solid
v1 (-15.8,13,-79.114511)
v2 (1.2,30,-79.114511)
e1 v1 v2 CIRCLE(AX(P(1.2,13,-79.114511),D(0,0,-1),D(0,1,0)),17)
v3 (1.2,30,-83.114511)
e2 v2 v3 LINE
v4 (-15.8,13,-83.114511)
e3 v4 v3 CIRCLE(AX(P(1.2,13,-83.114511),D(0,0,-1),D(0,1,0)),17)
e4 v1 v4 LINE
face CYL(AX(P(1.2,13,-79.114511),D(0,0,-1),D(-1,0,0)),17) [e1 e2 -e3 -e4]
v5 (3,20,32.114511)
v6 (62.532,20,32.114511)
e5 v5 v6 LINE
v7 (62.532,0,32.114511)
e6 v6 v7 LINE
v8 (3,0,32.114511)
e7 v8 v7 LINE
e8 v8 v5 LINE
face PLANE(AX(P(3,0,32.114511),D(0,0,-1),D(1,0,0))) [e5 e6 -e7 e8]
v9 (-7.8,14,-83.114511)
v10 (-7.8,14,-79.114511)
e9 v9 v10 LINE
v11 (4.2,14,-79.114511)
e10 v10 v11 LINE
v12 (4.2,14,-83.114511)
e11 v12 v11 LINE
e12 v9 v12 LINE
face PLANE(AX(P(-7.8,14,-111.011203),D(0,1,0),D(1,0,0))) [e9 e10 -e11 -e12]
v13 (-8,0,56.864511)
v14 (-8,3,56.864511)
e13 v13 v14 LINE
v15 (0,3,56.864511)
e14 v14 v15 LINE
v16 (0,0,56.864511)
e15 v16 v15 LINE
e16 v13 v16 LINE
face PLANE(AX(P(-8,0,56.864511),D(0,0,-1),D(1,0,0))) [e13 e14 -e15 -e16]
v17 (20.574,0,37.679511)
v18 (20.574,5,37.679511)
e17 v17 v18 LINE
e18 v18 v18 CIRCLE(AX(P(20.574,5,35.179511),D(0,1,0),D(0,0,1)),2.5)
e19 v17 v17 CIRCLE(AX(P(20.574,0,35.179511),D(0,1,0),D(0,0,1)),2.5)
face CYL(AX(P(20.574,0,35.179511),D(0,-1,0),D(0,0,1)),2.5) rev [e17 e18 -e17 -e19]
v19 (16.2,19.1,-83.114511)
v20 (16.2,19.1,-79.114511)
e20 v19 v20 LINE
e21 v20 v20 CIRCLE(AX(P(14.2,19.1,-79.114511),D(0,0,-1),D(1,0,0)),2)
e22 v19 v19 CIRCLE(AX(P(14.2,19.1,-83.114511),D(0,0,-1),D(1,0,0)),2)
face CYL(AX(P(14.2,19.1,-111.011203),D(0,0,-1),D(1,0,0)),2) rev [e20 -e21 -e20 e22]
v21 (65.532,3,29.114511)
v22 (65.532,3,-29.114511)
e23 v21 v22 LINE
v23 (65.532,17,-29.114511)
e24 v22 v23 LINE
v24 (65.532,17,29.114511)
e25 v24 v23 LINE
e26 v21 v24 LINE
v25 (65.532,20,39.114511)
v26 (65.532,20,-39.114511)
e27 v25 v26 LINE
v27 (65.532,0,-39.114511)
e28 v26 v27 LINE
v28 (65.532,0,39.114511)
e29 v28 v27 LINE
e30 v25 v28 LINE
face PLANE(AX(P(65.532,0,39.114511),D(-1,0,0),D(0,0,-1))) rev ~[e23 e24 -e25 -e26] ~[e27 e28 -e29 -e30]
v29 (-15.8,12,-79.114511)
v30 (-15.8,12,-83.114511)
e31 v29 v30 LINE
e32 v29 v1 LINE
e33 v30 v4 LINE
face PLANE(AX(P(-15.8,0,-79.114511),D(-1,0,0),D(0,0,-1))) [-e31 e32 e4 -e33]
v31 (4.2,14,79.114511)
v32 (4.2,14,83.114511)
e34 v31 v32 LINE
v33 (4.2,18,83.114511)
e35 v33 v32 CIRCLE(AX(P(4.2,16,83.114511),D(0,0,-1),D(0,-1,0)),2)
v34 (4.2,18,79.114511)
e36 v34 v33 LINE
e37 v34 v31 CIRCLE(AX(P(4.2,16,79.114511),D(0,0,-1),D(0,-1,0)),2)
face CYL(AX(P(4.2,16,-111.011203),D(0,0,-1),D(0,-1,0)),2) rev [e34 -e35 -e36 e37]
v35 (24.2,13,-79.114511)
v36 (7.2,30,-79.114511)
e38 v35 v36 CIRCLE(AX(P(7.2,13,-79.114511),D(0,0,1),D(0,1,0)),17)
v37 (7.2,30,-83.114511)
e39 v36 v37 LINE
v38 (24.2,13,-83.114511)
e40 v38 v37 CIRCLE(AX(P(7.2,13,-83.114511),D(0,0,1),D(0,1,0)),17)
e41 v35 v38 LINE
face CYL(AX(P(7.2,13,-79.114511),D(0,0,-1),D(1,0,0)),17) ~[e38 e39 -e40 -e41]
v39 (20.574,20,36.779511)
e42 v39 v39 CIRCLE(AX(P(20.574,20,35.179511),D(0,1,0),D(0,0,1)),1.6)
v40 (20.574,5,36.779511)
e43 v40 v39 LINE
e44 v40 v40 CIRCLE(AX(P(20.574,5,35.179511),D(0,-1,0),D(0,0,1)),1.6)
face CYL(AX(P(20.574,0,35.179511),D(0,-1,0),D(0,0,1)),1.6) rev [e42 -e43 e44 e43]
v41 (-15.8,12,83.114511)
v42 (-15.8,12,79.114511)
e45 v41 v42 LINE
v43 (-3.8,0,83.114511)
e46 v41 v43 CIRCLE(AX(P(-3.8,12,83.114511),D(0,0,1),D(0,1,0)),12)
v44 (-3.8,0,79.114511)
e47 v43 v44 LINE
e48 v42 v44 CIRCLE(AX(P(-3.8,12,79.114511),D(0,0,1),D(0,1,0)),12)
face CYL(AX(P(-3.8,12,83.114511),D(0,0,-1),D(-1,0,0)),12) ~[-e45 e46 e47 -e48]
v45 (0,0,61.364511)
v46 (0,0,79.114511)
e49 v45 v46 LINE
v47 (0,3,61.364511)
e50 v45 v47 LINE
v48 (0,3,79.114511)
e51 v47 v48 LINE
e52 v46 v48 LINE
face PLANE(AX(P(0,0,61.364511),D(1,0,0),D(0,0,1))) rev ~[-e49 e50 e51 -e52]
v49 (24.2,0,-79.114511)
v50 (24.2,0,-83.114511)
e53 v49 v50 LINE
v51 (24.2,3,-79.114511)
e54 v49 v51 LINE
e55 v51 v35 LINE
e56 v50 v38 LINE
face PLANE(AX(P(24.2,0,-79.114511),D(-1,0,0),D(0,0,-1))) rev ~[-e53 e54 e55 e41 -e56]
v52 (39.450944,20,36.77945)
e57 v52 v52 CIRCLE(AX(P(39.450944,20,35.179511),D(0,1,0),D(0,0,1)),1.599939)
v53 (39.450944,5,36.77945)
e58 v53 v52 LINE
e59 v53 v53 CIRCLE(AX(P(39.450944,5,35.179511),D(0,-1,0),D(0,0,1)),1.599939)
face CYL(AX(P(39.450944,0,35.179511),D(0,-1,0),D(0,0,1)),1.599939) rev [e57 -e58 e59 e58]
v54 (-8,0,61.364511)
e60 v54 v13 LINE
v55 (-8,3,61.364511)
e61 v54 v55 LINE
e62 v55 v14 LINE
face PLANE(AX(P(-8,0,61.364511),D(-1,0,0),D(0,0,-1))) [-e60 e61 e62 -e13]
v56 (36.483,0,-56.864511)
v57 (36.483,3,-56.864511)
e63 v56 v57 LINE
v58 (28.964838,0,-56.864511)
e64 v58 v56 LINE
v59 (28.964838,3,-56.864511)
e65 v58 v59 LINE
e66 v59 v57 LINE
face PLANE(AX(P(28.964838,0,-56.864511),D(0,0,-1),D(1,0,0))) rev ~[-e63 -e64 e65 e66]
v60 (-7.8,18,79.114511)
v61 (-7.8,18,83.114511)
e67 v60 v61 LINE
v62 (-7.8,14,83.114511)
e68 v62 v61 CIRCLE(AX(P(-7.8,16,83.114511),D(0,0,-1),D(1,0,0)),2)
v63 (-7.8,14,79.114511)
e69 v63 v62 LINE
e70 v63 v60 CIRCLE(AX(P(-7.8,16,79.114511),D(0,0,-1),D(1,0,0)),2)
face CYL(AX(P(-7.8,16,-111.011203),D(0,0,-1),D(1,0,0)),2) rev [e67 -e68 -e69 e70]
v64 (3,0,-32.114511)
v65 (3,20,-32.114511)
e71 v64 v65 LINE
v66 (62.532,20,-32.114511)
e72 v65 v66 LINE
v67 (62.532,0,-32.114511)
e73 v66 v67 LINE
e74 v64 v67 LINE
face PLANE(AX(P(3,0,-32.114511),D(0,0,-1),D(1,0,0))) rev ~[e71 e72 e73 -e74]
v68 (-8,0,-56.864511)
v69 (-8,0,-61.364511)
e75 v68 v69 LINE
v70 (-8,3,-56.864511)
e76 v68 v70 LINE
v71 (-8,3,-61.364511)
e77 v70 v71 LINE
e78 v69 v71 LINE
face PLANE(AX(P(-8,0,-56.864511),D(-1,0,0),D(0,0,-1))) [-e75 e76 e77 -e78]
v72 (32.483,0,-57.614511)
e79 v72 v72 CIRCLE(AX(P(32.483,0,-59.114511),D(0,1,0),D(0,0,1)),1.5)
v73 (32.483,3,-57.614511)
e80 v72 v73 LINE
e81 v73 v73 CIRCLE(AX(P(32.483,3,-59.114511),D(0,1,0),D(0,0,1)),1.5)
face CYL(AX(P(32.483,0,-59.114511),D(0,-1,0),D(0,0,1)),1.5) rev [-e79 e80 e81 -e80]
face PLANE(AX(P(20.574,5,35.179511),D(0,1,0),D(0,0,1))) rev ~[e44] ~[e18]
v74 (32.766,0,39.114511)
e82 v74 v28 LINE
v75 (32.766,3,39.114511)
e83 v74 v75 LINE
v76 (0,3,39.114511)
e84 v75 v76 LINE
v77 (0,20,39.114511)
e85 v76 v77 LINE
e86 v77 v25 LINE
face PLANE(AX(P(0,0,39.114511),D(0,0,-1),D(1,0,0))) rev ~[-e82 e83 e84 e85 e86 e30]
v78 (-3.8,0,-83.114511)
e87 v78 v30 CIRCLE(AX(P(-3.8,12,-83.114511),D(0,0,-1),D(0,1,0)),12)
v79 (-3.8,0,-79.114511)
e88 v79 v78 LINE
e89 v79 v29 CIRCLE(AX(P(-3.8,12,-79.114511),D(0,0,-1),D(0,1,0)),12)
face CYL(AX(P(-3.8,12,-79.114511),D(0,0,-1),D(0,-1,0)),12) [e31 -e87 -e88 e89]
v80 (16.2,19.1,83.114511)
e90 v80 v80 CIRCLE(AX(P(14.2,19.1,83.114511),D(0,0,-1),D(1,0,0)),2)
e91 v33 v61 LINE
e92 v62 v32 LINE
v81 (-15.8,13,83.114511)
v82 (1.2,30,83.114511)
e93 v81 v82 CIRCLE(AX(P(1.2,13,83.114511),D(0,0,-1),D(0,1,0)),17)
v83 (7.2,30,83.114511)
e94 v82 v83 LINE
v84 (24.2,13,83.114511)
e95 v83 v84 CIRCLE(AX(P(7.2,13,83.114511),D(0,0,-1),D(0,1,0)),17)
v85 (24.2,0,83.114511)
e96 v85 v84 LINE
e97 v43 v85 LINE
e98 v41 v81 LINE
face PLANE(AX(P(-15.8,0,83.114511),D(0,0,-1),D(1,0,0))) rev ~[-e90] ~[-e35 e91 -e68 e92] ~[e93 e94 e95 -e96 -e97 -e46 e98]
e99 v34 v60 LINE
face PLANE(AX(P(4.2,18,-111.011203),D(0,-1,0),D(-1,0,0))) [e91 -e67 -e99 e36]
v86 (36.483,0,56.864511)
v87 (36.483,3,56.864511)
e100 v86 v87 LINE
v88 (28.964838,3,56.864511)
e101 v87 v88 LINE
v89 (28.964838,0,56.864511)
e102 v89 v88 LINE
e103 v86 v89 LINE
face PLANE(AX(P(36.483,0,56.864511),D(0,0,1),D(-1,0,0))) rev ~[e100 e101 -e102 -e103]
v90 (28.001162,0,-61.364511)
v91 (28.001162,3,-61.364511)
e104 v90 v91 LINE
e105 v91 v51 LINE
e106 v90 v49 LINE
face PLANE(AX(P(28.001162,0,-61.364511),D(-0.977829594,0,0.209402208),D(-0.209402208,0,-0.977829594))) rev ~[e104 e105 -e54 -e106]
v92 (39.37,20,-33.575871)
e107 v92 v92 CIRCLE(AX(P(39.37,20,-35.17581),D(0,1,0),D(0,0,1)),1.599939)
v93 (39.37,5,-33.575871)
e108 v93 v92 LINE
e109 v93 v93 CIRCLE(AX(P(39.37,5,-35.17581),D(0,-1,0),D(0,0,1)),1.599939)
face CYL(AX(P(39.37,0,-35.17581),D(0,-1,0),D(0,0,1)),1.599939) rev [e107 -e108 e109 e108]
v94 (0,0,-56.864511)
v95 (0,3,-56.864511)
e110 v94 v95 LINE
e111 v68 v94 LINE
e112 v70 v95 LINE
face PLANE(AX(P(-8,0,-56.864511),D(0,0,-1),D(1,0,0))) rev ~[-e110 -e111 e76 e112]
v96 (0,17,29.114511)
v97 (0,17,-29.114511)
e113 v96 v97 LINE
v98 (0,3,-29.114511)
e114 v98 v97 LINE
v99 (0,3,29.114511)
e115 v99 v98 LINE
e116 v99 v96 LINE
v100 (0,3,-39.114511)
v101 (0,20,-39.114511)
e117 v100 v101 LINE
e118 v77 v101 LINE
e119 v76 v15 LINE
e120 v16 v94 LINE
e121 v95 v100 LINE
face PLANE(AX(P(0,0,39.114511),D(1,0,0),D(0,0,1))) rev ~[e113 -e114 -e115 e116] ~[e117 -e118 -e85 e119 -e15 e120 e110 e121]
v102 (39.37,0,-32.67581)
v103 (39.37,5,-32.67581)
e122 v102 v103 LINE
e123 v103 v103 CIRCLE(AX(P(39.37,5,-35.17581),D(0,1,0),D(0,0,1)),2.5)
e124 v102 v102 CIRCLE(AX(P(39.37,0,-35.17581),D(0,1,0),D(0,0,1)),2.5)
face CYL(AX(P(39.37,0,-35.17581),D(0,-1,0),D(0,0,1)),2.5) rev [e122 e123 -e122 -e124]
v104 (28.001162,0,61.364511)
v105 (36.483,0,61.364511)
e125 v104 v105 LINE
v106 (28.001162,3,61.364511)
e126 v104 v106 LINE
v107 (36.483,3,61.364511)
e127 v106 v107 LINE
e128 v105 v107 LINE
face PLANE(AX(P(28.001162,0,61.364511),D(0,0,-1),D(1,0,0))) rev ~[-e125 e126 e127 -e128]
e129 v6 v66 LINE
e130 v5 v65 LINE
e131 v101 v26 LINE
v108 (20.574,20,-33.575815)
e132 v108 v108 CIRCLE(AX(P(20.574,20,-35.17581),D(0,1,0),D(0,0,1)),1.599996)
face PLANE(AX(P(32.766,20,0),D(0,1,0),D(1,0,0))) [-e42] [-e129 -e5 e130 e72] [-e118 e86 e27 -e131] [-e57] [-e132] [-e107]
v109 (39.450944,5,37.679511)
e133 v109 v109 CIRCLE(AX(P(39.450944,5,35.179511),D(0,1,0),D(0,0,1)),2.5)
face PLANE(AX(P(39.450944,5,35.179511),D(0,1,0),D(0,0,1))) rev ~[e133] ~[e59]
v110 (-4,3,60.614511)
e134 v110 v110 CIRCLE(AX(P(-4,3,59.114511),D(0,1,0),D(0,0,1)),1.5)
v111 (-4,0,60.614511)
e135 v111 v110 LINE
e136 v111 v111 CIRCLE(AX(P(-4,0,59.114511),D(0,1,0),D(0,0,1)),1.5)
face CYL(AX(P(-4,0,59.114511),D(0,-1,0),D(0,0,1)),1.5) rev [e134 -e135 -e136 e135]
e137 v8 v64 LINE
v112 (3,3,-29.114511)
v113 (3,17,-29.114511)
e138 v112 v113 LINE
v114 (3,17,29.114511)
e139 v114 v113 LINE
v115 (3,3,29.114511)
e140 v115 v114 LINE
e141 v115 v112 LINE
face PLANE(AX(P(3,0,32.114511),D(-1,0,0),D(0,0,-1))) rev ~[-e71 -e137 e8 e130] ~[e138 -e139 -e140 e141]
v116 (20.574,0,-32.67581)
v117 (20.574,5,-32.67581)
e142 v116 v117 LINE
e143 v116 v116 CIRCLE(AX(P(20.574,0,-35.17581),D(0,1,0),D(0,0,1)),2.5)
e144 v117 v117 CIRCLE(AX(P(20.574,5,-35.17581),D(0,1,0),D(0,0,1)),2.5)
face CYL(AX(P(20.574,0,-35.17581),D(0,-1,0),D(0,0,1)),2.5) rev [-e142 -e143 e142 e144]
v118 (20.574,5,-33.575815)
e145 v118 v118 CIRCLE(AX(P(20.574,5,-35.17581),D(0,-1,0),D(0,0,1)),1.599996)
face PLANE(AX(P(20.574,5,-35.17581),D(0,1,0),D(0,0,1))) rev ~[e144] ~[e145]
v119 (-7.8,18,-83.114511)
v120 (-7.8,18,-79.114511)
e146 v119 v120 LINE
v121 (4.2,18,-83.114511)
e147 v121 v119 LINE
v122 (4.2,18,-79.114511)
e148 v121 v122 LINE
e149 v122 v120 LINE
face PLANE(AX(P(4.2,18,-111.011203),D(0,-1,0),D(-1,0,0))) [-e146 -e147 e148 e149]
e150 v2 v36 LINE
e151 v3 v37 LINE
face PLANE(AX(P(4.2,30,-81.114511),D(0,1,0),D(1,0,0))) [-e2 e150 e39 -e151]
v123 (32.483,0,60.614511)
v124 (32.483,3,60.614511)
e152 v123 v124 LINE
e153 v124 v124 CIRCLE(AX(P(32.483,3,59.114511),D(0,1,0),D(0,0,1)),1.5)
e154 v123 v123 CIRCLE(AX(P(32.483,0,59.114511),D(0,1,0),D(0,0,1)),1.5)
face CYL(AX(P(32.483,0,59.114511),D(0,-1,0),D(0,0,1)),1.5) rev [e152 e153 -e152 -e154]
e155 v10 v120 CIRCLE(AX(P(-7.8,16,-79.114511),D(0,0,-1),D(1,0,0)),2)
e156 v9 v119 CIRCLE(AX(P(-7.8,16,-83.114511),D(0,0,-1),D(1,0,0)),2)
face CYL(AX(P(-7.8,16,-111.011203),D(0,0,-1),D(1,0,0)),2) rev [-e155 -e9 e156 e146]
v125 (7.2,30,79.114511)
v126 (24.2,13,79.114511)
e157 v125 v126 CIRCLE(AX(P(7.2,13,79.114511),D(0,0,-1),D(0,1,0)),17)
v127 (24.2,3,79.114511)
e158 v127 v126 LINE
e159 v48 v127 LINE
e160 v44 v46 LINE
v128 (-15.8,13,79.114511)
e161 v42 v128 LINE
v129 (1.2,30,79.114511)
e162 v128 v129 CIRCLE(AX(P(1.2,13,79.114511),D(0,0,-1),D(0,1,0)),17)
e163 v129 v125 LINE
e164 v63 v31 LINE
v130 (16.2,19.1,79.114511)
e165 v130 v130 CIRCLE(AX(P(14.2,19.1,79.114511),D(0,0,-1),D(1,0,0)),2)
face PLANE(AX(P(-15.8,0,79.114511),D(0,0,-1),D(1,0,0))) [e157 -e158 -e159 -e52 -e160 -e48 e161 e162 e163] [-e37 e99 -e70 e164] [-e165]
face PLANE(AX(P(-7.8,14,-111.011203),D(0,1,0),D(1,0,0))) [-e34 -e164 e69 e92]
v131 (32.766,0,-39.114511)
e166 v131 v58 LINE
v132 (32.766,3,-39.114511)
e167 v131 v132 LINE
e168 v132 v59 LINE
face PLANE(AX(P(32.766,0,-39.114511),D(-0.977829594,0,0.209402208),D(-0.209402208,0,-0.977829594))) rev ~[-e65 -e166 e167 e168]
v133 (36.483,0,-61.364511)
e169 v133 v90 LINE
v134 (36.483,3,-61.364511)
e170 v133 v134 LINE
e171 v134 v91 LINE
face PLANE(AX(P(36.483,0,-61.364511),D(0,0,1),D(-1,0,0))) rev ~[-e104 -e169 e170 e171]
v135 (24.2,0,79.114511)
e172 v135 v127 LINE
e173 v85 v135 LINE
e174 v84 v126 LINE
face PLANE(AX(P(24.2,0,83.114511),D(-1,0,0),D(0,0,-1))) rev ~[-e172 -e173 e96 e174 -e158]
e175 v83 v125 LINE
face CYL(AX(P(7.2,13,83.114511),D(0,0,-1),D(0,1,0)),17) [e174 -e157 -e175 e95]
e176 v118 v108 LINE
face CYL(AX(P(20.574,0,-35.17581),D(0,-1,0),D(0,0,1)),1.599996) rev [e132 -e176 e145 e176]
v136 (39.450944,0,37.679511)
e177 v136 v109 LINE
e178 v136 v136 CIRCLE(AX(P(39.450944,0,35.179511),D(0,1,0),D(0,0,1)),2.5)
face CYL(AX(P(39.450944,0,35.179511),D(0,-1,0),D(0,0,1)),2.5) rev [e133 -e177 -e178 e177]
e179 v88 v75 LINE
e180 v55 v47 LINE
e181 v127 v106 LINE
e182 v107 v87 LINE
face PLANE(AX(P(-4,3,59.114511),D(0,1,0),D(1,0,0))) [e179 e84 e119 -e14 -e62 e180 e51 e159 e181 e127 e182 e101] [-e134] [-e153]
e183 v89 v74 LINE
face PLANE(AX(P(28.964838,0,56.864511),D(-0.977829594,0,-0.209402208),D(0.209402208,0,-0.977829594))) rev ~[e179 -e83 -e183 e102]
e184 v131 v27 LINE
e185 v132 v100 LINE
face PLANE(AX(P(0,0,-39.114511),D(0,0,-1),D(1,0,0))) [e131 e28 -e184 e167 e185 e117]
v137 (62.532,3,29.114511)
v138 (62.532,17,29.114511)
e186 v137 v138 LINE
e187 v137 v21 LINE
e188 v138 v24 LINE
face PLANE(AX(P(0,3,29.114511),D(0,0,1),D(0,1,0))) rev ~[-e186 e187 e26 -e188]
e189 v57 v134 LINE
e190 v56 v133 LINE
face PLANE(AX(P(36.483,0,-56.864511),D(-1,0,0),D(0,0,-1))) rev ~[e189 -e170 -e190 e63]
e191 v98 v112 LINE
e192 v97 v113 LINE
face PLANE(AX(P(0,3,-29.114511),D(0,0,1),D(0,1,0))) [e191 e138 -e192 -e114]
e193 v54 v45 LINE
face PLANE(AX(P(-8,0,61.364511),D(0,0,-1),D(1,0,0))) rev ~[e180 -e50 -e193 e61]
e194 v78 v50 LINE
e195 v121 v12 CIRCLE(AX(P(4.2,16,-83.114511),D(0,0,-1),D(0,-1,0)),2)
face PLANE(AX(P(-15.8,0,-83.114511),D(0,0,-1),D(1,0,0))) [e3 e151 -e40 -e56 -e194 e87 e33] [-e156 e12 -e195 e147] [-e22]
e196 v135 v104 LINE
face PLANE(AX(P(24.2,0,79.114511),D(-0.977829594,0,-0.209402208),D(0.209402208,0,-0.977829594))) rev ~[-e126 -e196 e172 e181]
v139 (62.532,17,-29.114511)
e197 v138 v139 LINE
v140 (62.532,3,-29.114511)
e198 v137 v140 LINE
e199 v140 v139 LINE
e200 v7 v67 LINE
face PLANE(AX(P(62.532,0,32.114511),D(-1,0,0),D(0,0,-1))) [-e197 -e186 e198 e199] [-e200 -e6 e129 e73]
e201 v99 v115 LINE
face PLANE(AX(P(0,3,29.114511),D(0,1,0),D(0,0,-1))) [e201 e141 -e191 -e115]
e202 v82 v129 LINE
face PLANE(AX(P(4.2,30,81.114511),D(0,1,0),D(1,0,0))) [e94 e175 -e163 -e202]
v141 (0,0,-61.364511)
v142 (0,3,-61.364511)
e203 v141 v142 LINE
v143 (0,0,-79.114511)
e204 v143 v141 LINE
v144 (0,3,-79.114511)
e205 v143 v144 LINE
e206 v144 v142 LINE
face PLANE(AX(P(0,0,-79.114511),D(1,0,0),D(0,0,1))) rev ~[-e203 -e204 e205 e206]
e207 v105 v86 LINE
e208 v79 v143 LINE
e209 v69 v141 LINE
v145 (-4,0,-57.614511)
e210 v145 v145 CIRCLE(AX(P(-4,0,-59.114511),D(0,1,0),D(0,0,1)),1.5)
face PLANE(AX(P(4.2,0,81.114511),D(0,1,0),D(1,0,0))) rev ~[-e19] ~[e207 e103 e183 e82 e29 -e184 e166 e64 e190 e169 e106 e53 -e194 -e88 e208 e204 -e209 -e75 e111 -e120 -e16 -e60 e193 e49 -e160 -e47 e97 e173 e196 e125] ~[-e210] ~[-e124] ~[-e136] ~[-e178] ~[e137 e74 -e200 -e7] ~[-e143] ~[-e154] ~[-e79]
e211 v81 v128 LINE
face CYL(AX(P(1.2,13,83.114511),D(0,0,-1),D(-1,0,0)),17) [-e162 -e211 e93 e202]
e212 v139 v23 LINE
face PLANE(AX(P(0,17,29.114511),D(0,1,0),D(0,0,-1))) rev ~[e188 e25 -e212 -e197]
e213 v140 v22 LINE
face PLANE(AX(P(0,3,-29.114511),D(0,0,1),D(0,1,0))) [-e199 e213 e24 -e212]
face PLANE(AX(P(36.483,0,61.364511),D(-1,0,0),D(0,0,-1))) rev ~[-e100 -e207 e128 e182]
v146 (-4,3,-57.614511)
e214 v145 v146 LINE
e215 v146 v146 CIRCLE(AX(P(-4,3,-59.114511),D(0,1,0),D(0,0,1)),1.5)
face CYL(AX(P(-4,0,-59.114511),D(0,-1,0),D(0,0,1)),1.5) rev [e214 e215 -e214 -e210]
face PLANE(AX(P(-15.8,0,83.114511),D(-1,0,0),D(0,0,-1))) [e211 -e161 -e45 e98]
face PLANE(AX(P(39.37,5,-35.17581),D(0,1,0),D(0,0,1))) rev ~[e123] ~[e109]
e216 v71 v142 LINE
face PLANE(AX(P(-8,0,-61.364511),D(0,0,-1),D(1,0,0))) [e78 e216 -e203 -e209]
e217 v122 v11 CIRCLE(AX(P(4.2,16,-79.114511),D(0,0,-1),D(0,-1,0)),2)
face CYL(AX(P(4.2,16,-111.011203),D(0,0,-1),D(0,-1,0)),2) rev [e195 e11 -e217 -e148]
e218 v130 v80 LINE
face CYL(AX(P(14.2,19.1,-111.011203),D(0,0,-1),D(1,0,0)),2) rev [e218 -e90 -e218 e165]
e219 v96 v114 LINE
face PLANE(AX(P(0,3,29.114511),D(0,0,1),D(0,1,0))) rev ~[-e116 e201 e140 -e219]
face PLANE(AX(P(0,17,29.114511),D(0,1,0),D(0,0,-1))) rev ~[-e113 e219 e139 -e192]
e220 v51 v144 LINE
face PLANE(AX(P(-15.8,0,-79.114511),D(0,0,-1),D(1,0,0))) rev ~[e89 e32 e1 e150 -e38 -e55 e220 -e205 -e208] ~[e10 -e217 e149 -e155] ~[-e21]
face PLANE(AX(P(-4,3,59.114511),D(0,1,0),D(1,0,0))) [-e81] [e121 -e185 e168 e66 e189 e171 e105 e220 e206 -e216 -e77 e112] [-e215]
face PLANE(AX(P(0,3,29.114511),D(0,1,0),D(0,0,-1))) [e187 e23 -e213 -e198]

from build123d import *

# Parameters (mm, degrees)
SKETCH1_R               = 1.6
SKETCH1_R_2             = 1.599939077
SKETCH1_W               = 59.532
SKETCH1_H               = 64.229021166
SKETCH1_R_3             = 1.599995589
SKETCH1_R_4             = 1.5
BOSS_EXTRUDE1_DEPTH     = 3
SKETCH2_W               = 40
SKETCH2_H               = 4
BOSS_EXTRUDE2_DEPTH     = 30
CUT_EXTRUDE1_DEPTH      = 111.01120349
CUT_EXTRUDE1_DEPTH_BACK = 111.01120349
SKETCH3_R               = 2
FILLET2_R               = 17
FILLET3_R               = 12
SKETCH1_8_R             = 1.6
SKETCH1_8_R_2           = 1.599939077
SKETCH1_8_W             = 59.532
SKETCH1_8_H             = 64.229021166
SKETCH1_8_R_3           = 1.599995589
BOSS_EXTRUDE3_DEPTH     = 20
SKETCH5_R               = 2.5
CUT_EXTRUDE2_DEPTH      = 5
SKETCH7_W               = 58.229021166
SKETCH7_H               = 14
CUT_EXTRUDE3_DEPTH      = 111.01120349


with BuildPart() as part:
    # Sketch1 → Boss-Extrude1 (new body)
    with BuildSketch(Plane(origin=(0, 0, 0), x_dir=(1, 0, 0), z_dir=(0, 1, 0))):
        Polygon((65.532, 39.114510583), (32.766, 39.114510583), (28.9648375, 56.864510583), (36.483, 56.864510583), (36.483, 61.364510583), (28.0011625, 61.364510583), (24.2, 79.114510583), (0, 79.114510583), (0, 61.364510583), (-8, 61.364510583), (-8, 56.864510583), (0, 56.864510583), (0, -56.864510583), (-8, -56.864510583), (-8, -61.364510583), (0, -61.364510583), (0, -79.114510583), (24.2, -79.114510583), (28.0011625, -61.364510583), (36.483, -61.364510583), (36.483, -56.864510583), (28.9648375, -56.864510583), (32.766, -39.114510583), (65.532, -39.114510583), align=None)
        with Locations((20.574, -35.179510583)):
            Circle(SKETCH1_R, mode=Mode.SUBTRACT)
        with Locations((39.450944, -35.179510583)):
            Circle(SKETCH1_R_2, mode=Mode.SUBTRACT)
        with Locations((32.766, 0)):
            Rectangle(SKETCH1_W, SKETCH1_H, mode=Mode.SUBTRACT)
        with Locations((20.574, 35.1758104)):
            Circle(SKETCH1_R_3, mode=Mode.SUBTRACT)
        with Locations((39.37, 35.1758104)):
            Circle(SKETCH1_R_2, mode=Mode.SUBTRACT)
        with Locations((-4, 59.114510583)):
            Circle(SKETCH1_R_4, mode=Mode.SUBTRACT)
        with Locations((32.483, 59.114510583)):
            Circle(SKETCH1_R_4, mode=Mode.SUBTRACT)
        with Locations((32.483, -59.114510583)):
            Circle(SKETCH1_R_4, mode=Mode.SUBTRACT)
        with Locations((-4, -59.114510583)):
            Circle(SKETCH1_R_4, mode=Mode.SUBTRACT)
    extrude(amount=BOSS_EXTRUDE1_DEPTH)

    # Sketch2 → Boss-Extrude2 (add)
    with BuildSketch(Plane(origin=(0, 0, 0), x_dir=(1, 0, 0), z_dir=(0, 1, 0))):
        with Locations((4.2, -81.114510583)):
            Rectangle(SKETCH2_W, SKETCH2_H)
        with Locations((4.2, 81.114510583)):
            Rectangle(SKETCH2_W, SKETCH2_H)
    extrude(amount=BOSS_EXTRUDE2_DEPTH)

    # Sketch3 → Cut-Extrude1 (cut, two sides: drawn at the far end of the back side and taken through both)
    with BuildSketch(Plane.XY.offset(-CUT_EXTRUDE1_DEPTH_BACK)):
        with BuildLine():
            Line((4.2, 18), (-7.8, 18))
            ThreePointArc((-7.8, 18), (-9.8, 16), (-7.8, 14))
            Line((-7.8, 14), (4.2, 14))
            ThreePointArc((4.2, 14), (6.2, 16), (4.2, 18))
        make_face()
        with Locations((14.2, 19.1)):
            Circle(SKETCH3_R)
    extrude(amount=CUT_EXTRUDE1_DEPTH + CUT_EXTRUDE1_DEPTH_BACK, mode=Mode.SUBTRACT)

    # Fillet2
    fillet2_edges = [part.edges().sort_by_distance(p)[0] for p in [
        (-15.8, 30, -81.114510583),
        (24.2, 30, -81.114510583),
        (24.2, 30, 81.114510583),
        (-15.8, 30, 81.114510583),
    ]]
    fillet(fillet2_edges, radius=FILLET2_R)

    # Fillet3
    fillet3_edges = [part.edges().sort_by_distance(p)[0] for p in [
        (-15.8, 0, 81.114510583),
        (-15.8, 0, -81.114510583),
    ]]
    fillet(fillet3_edges, radius=FILLET3_R)

    # Sketch1<8> → Boss-Extrude3 (add)
    with BuildSketch(Plane(origin=(0, 0, 0), x_dir=(1, 0, 0), z_dir=(0, 1, 0))):
        Polygon((32.766, 39.114510583), (0, 39.114510583), (0, -39.114510583), (32.766, -39.114510583), (65.532, -39.114510583), (65.532, 39.114510583), align=None)
        with Locations((20.574, -35.179510583)):
            Circle(SKETCH1_8_R, mode=Mode.SUBTRACT)
        with Locations((39.450944, -35.179510583)):
            Circle(SKETCH1_8_R_2, mode=Mode.SUBTRACT)
        with Locations((32.766, 0)):
            Rectangle(SKETCH1_8_W, SKETCH1_8_H, mode=Mode.SUBTRACT)
        with Locations((20.574, 35.1758104)):
            Circle(SKETCH1_8_R_3, mode=Mode.SUBTRACT)
        with Locations((39.37, 35.1758104)):
            Circle(SKETCH1_8_R_2, mode=Mode.SUBTRACT)
    extrude(amount=BOSS_EXTRUDE3_DEPTH)

    # Sketch5 → Cut-Extrude2 (cut)
    with BuildSketch(Plane(origin=(0, 0, 0), x_dir=(1, 0, 0), z_dir=(0, 1, 0))):
        with Locations((20.574, -35.179510583)):
            Circle(SKETCH5_R)
        with Locations((39.450944, -35.179510583)):
            Circle(SKETCH5_R)
        with Locations((20.574, 35.1758104)):
            Circle(SKETCH5_R)
        with Locations((39.37, 35.1758104)):
            Circle(SKETCH5_R)
    extrude(amount=CUT_EXTRUDE2_DEPTH, mode=Mode.SUBTRACT)

    # Sketch7 → Cut-Extrude3 (cut, through all)
    with BuildSketch(Plane(origin=(0, 0, 0), x_dir=(0, 0, -1), z_dir=(1, 0, 0))):
        with Locations((0, 10)):
            Rectangle(SKETCH7_W, SKETCH7_H)
    extrude(amount=CUT_EXTRUDE3_DEPTH, mode=Mode.SUBTRACT)


solid = part.part
